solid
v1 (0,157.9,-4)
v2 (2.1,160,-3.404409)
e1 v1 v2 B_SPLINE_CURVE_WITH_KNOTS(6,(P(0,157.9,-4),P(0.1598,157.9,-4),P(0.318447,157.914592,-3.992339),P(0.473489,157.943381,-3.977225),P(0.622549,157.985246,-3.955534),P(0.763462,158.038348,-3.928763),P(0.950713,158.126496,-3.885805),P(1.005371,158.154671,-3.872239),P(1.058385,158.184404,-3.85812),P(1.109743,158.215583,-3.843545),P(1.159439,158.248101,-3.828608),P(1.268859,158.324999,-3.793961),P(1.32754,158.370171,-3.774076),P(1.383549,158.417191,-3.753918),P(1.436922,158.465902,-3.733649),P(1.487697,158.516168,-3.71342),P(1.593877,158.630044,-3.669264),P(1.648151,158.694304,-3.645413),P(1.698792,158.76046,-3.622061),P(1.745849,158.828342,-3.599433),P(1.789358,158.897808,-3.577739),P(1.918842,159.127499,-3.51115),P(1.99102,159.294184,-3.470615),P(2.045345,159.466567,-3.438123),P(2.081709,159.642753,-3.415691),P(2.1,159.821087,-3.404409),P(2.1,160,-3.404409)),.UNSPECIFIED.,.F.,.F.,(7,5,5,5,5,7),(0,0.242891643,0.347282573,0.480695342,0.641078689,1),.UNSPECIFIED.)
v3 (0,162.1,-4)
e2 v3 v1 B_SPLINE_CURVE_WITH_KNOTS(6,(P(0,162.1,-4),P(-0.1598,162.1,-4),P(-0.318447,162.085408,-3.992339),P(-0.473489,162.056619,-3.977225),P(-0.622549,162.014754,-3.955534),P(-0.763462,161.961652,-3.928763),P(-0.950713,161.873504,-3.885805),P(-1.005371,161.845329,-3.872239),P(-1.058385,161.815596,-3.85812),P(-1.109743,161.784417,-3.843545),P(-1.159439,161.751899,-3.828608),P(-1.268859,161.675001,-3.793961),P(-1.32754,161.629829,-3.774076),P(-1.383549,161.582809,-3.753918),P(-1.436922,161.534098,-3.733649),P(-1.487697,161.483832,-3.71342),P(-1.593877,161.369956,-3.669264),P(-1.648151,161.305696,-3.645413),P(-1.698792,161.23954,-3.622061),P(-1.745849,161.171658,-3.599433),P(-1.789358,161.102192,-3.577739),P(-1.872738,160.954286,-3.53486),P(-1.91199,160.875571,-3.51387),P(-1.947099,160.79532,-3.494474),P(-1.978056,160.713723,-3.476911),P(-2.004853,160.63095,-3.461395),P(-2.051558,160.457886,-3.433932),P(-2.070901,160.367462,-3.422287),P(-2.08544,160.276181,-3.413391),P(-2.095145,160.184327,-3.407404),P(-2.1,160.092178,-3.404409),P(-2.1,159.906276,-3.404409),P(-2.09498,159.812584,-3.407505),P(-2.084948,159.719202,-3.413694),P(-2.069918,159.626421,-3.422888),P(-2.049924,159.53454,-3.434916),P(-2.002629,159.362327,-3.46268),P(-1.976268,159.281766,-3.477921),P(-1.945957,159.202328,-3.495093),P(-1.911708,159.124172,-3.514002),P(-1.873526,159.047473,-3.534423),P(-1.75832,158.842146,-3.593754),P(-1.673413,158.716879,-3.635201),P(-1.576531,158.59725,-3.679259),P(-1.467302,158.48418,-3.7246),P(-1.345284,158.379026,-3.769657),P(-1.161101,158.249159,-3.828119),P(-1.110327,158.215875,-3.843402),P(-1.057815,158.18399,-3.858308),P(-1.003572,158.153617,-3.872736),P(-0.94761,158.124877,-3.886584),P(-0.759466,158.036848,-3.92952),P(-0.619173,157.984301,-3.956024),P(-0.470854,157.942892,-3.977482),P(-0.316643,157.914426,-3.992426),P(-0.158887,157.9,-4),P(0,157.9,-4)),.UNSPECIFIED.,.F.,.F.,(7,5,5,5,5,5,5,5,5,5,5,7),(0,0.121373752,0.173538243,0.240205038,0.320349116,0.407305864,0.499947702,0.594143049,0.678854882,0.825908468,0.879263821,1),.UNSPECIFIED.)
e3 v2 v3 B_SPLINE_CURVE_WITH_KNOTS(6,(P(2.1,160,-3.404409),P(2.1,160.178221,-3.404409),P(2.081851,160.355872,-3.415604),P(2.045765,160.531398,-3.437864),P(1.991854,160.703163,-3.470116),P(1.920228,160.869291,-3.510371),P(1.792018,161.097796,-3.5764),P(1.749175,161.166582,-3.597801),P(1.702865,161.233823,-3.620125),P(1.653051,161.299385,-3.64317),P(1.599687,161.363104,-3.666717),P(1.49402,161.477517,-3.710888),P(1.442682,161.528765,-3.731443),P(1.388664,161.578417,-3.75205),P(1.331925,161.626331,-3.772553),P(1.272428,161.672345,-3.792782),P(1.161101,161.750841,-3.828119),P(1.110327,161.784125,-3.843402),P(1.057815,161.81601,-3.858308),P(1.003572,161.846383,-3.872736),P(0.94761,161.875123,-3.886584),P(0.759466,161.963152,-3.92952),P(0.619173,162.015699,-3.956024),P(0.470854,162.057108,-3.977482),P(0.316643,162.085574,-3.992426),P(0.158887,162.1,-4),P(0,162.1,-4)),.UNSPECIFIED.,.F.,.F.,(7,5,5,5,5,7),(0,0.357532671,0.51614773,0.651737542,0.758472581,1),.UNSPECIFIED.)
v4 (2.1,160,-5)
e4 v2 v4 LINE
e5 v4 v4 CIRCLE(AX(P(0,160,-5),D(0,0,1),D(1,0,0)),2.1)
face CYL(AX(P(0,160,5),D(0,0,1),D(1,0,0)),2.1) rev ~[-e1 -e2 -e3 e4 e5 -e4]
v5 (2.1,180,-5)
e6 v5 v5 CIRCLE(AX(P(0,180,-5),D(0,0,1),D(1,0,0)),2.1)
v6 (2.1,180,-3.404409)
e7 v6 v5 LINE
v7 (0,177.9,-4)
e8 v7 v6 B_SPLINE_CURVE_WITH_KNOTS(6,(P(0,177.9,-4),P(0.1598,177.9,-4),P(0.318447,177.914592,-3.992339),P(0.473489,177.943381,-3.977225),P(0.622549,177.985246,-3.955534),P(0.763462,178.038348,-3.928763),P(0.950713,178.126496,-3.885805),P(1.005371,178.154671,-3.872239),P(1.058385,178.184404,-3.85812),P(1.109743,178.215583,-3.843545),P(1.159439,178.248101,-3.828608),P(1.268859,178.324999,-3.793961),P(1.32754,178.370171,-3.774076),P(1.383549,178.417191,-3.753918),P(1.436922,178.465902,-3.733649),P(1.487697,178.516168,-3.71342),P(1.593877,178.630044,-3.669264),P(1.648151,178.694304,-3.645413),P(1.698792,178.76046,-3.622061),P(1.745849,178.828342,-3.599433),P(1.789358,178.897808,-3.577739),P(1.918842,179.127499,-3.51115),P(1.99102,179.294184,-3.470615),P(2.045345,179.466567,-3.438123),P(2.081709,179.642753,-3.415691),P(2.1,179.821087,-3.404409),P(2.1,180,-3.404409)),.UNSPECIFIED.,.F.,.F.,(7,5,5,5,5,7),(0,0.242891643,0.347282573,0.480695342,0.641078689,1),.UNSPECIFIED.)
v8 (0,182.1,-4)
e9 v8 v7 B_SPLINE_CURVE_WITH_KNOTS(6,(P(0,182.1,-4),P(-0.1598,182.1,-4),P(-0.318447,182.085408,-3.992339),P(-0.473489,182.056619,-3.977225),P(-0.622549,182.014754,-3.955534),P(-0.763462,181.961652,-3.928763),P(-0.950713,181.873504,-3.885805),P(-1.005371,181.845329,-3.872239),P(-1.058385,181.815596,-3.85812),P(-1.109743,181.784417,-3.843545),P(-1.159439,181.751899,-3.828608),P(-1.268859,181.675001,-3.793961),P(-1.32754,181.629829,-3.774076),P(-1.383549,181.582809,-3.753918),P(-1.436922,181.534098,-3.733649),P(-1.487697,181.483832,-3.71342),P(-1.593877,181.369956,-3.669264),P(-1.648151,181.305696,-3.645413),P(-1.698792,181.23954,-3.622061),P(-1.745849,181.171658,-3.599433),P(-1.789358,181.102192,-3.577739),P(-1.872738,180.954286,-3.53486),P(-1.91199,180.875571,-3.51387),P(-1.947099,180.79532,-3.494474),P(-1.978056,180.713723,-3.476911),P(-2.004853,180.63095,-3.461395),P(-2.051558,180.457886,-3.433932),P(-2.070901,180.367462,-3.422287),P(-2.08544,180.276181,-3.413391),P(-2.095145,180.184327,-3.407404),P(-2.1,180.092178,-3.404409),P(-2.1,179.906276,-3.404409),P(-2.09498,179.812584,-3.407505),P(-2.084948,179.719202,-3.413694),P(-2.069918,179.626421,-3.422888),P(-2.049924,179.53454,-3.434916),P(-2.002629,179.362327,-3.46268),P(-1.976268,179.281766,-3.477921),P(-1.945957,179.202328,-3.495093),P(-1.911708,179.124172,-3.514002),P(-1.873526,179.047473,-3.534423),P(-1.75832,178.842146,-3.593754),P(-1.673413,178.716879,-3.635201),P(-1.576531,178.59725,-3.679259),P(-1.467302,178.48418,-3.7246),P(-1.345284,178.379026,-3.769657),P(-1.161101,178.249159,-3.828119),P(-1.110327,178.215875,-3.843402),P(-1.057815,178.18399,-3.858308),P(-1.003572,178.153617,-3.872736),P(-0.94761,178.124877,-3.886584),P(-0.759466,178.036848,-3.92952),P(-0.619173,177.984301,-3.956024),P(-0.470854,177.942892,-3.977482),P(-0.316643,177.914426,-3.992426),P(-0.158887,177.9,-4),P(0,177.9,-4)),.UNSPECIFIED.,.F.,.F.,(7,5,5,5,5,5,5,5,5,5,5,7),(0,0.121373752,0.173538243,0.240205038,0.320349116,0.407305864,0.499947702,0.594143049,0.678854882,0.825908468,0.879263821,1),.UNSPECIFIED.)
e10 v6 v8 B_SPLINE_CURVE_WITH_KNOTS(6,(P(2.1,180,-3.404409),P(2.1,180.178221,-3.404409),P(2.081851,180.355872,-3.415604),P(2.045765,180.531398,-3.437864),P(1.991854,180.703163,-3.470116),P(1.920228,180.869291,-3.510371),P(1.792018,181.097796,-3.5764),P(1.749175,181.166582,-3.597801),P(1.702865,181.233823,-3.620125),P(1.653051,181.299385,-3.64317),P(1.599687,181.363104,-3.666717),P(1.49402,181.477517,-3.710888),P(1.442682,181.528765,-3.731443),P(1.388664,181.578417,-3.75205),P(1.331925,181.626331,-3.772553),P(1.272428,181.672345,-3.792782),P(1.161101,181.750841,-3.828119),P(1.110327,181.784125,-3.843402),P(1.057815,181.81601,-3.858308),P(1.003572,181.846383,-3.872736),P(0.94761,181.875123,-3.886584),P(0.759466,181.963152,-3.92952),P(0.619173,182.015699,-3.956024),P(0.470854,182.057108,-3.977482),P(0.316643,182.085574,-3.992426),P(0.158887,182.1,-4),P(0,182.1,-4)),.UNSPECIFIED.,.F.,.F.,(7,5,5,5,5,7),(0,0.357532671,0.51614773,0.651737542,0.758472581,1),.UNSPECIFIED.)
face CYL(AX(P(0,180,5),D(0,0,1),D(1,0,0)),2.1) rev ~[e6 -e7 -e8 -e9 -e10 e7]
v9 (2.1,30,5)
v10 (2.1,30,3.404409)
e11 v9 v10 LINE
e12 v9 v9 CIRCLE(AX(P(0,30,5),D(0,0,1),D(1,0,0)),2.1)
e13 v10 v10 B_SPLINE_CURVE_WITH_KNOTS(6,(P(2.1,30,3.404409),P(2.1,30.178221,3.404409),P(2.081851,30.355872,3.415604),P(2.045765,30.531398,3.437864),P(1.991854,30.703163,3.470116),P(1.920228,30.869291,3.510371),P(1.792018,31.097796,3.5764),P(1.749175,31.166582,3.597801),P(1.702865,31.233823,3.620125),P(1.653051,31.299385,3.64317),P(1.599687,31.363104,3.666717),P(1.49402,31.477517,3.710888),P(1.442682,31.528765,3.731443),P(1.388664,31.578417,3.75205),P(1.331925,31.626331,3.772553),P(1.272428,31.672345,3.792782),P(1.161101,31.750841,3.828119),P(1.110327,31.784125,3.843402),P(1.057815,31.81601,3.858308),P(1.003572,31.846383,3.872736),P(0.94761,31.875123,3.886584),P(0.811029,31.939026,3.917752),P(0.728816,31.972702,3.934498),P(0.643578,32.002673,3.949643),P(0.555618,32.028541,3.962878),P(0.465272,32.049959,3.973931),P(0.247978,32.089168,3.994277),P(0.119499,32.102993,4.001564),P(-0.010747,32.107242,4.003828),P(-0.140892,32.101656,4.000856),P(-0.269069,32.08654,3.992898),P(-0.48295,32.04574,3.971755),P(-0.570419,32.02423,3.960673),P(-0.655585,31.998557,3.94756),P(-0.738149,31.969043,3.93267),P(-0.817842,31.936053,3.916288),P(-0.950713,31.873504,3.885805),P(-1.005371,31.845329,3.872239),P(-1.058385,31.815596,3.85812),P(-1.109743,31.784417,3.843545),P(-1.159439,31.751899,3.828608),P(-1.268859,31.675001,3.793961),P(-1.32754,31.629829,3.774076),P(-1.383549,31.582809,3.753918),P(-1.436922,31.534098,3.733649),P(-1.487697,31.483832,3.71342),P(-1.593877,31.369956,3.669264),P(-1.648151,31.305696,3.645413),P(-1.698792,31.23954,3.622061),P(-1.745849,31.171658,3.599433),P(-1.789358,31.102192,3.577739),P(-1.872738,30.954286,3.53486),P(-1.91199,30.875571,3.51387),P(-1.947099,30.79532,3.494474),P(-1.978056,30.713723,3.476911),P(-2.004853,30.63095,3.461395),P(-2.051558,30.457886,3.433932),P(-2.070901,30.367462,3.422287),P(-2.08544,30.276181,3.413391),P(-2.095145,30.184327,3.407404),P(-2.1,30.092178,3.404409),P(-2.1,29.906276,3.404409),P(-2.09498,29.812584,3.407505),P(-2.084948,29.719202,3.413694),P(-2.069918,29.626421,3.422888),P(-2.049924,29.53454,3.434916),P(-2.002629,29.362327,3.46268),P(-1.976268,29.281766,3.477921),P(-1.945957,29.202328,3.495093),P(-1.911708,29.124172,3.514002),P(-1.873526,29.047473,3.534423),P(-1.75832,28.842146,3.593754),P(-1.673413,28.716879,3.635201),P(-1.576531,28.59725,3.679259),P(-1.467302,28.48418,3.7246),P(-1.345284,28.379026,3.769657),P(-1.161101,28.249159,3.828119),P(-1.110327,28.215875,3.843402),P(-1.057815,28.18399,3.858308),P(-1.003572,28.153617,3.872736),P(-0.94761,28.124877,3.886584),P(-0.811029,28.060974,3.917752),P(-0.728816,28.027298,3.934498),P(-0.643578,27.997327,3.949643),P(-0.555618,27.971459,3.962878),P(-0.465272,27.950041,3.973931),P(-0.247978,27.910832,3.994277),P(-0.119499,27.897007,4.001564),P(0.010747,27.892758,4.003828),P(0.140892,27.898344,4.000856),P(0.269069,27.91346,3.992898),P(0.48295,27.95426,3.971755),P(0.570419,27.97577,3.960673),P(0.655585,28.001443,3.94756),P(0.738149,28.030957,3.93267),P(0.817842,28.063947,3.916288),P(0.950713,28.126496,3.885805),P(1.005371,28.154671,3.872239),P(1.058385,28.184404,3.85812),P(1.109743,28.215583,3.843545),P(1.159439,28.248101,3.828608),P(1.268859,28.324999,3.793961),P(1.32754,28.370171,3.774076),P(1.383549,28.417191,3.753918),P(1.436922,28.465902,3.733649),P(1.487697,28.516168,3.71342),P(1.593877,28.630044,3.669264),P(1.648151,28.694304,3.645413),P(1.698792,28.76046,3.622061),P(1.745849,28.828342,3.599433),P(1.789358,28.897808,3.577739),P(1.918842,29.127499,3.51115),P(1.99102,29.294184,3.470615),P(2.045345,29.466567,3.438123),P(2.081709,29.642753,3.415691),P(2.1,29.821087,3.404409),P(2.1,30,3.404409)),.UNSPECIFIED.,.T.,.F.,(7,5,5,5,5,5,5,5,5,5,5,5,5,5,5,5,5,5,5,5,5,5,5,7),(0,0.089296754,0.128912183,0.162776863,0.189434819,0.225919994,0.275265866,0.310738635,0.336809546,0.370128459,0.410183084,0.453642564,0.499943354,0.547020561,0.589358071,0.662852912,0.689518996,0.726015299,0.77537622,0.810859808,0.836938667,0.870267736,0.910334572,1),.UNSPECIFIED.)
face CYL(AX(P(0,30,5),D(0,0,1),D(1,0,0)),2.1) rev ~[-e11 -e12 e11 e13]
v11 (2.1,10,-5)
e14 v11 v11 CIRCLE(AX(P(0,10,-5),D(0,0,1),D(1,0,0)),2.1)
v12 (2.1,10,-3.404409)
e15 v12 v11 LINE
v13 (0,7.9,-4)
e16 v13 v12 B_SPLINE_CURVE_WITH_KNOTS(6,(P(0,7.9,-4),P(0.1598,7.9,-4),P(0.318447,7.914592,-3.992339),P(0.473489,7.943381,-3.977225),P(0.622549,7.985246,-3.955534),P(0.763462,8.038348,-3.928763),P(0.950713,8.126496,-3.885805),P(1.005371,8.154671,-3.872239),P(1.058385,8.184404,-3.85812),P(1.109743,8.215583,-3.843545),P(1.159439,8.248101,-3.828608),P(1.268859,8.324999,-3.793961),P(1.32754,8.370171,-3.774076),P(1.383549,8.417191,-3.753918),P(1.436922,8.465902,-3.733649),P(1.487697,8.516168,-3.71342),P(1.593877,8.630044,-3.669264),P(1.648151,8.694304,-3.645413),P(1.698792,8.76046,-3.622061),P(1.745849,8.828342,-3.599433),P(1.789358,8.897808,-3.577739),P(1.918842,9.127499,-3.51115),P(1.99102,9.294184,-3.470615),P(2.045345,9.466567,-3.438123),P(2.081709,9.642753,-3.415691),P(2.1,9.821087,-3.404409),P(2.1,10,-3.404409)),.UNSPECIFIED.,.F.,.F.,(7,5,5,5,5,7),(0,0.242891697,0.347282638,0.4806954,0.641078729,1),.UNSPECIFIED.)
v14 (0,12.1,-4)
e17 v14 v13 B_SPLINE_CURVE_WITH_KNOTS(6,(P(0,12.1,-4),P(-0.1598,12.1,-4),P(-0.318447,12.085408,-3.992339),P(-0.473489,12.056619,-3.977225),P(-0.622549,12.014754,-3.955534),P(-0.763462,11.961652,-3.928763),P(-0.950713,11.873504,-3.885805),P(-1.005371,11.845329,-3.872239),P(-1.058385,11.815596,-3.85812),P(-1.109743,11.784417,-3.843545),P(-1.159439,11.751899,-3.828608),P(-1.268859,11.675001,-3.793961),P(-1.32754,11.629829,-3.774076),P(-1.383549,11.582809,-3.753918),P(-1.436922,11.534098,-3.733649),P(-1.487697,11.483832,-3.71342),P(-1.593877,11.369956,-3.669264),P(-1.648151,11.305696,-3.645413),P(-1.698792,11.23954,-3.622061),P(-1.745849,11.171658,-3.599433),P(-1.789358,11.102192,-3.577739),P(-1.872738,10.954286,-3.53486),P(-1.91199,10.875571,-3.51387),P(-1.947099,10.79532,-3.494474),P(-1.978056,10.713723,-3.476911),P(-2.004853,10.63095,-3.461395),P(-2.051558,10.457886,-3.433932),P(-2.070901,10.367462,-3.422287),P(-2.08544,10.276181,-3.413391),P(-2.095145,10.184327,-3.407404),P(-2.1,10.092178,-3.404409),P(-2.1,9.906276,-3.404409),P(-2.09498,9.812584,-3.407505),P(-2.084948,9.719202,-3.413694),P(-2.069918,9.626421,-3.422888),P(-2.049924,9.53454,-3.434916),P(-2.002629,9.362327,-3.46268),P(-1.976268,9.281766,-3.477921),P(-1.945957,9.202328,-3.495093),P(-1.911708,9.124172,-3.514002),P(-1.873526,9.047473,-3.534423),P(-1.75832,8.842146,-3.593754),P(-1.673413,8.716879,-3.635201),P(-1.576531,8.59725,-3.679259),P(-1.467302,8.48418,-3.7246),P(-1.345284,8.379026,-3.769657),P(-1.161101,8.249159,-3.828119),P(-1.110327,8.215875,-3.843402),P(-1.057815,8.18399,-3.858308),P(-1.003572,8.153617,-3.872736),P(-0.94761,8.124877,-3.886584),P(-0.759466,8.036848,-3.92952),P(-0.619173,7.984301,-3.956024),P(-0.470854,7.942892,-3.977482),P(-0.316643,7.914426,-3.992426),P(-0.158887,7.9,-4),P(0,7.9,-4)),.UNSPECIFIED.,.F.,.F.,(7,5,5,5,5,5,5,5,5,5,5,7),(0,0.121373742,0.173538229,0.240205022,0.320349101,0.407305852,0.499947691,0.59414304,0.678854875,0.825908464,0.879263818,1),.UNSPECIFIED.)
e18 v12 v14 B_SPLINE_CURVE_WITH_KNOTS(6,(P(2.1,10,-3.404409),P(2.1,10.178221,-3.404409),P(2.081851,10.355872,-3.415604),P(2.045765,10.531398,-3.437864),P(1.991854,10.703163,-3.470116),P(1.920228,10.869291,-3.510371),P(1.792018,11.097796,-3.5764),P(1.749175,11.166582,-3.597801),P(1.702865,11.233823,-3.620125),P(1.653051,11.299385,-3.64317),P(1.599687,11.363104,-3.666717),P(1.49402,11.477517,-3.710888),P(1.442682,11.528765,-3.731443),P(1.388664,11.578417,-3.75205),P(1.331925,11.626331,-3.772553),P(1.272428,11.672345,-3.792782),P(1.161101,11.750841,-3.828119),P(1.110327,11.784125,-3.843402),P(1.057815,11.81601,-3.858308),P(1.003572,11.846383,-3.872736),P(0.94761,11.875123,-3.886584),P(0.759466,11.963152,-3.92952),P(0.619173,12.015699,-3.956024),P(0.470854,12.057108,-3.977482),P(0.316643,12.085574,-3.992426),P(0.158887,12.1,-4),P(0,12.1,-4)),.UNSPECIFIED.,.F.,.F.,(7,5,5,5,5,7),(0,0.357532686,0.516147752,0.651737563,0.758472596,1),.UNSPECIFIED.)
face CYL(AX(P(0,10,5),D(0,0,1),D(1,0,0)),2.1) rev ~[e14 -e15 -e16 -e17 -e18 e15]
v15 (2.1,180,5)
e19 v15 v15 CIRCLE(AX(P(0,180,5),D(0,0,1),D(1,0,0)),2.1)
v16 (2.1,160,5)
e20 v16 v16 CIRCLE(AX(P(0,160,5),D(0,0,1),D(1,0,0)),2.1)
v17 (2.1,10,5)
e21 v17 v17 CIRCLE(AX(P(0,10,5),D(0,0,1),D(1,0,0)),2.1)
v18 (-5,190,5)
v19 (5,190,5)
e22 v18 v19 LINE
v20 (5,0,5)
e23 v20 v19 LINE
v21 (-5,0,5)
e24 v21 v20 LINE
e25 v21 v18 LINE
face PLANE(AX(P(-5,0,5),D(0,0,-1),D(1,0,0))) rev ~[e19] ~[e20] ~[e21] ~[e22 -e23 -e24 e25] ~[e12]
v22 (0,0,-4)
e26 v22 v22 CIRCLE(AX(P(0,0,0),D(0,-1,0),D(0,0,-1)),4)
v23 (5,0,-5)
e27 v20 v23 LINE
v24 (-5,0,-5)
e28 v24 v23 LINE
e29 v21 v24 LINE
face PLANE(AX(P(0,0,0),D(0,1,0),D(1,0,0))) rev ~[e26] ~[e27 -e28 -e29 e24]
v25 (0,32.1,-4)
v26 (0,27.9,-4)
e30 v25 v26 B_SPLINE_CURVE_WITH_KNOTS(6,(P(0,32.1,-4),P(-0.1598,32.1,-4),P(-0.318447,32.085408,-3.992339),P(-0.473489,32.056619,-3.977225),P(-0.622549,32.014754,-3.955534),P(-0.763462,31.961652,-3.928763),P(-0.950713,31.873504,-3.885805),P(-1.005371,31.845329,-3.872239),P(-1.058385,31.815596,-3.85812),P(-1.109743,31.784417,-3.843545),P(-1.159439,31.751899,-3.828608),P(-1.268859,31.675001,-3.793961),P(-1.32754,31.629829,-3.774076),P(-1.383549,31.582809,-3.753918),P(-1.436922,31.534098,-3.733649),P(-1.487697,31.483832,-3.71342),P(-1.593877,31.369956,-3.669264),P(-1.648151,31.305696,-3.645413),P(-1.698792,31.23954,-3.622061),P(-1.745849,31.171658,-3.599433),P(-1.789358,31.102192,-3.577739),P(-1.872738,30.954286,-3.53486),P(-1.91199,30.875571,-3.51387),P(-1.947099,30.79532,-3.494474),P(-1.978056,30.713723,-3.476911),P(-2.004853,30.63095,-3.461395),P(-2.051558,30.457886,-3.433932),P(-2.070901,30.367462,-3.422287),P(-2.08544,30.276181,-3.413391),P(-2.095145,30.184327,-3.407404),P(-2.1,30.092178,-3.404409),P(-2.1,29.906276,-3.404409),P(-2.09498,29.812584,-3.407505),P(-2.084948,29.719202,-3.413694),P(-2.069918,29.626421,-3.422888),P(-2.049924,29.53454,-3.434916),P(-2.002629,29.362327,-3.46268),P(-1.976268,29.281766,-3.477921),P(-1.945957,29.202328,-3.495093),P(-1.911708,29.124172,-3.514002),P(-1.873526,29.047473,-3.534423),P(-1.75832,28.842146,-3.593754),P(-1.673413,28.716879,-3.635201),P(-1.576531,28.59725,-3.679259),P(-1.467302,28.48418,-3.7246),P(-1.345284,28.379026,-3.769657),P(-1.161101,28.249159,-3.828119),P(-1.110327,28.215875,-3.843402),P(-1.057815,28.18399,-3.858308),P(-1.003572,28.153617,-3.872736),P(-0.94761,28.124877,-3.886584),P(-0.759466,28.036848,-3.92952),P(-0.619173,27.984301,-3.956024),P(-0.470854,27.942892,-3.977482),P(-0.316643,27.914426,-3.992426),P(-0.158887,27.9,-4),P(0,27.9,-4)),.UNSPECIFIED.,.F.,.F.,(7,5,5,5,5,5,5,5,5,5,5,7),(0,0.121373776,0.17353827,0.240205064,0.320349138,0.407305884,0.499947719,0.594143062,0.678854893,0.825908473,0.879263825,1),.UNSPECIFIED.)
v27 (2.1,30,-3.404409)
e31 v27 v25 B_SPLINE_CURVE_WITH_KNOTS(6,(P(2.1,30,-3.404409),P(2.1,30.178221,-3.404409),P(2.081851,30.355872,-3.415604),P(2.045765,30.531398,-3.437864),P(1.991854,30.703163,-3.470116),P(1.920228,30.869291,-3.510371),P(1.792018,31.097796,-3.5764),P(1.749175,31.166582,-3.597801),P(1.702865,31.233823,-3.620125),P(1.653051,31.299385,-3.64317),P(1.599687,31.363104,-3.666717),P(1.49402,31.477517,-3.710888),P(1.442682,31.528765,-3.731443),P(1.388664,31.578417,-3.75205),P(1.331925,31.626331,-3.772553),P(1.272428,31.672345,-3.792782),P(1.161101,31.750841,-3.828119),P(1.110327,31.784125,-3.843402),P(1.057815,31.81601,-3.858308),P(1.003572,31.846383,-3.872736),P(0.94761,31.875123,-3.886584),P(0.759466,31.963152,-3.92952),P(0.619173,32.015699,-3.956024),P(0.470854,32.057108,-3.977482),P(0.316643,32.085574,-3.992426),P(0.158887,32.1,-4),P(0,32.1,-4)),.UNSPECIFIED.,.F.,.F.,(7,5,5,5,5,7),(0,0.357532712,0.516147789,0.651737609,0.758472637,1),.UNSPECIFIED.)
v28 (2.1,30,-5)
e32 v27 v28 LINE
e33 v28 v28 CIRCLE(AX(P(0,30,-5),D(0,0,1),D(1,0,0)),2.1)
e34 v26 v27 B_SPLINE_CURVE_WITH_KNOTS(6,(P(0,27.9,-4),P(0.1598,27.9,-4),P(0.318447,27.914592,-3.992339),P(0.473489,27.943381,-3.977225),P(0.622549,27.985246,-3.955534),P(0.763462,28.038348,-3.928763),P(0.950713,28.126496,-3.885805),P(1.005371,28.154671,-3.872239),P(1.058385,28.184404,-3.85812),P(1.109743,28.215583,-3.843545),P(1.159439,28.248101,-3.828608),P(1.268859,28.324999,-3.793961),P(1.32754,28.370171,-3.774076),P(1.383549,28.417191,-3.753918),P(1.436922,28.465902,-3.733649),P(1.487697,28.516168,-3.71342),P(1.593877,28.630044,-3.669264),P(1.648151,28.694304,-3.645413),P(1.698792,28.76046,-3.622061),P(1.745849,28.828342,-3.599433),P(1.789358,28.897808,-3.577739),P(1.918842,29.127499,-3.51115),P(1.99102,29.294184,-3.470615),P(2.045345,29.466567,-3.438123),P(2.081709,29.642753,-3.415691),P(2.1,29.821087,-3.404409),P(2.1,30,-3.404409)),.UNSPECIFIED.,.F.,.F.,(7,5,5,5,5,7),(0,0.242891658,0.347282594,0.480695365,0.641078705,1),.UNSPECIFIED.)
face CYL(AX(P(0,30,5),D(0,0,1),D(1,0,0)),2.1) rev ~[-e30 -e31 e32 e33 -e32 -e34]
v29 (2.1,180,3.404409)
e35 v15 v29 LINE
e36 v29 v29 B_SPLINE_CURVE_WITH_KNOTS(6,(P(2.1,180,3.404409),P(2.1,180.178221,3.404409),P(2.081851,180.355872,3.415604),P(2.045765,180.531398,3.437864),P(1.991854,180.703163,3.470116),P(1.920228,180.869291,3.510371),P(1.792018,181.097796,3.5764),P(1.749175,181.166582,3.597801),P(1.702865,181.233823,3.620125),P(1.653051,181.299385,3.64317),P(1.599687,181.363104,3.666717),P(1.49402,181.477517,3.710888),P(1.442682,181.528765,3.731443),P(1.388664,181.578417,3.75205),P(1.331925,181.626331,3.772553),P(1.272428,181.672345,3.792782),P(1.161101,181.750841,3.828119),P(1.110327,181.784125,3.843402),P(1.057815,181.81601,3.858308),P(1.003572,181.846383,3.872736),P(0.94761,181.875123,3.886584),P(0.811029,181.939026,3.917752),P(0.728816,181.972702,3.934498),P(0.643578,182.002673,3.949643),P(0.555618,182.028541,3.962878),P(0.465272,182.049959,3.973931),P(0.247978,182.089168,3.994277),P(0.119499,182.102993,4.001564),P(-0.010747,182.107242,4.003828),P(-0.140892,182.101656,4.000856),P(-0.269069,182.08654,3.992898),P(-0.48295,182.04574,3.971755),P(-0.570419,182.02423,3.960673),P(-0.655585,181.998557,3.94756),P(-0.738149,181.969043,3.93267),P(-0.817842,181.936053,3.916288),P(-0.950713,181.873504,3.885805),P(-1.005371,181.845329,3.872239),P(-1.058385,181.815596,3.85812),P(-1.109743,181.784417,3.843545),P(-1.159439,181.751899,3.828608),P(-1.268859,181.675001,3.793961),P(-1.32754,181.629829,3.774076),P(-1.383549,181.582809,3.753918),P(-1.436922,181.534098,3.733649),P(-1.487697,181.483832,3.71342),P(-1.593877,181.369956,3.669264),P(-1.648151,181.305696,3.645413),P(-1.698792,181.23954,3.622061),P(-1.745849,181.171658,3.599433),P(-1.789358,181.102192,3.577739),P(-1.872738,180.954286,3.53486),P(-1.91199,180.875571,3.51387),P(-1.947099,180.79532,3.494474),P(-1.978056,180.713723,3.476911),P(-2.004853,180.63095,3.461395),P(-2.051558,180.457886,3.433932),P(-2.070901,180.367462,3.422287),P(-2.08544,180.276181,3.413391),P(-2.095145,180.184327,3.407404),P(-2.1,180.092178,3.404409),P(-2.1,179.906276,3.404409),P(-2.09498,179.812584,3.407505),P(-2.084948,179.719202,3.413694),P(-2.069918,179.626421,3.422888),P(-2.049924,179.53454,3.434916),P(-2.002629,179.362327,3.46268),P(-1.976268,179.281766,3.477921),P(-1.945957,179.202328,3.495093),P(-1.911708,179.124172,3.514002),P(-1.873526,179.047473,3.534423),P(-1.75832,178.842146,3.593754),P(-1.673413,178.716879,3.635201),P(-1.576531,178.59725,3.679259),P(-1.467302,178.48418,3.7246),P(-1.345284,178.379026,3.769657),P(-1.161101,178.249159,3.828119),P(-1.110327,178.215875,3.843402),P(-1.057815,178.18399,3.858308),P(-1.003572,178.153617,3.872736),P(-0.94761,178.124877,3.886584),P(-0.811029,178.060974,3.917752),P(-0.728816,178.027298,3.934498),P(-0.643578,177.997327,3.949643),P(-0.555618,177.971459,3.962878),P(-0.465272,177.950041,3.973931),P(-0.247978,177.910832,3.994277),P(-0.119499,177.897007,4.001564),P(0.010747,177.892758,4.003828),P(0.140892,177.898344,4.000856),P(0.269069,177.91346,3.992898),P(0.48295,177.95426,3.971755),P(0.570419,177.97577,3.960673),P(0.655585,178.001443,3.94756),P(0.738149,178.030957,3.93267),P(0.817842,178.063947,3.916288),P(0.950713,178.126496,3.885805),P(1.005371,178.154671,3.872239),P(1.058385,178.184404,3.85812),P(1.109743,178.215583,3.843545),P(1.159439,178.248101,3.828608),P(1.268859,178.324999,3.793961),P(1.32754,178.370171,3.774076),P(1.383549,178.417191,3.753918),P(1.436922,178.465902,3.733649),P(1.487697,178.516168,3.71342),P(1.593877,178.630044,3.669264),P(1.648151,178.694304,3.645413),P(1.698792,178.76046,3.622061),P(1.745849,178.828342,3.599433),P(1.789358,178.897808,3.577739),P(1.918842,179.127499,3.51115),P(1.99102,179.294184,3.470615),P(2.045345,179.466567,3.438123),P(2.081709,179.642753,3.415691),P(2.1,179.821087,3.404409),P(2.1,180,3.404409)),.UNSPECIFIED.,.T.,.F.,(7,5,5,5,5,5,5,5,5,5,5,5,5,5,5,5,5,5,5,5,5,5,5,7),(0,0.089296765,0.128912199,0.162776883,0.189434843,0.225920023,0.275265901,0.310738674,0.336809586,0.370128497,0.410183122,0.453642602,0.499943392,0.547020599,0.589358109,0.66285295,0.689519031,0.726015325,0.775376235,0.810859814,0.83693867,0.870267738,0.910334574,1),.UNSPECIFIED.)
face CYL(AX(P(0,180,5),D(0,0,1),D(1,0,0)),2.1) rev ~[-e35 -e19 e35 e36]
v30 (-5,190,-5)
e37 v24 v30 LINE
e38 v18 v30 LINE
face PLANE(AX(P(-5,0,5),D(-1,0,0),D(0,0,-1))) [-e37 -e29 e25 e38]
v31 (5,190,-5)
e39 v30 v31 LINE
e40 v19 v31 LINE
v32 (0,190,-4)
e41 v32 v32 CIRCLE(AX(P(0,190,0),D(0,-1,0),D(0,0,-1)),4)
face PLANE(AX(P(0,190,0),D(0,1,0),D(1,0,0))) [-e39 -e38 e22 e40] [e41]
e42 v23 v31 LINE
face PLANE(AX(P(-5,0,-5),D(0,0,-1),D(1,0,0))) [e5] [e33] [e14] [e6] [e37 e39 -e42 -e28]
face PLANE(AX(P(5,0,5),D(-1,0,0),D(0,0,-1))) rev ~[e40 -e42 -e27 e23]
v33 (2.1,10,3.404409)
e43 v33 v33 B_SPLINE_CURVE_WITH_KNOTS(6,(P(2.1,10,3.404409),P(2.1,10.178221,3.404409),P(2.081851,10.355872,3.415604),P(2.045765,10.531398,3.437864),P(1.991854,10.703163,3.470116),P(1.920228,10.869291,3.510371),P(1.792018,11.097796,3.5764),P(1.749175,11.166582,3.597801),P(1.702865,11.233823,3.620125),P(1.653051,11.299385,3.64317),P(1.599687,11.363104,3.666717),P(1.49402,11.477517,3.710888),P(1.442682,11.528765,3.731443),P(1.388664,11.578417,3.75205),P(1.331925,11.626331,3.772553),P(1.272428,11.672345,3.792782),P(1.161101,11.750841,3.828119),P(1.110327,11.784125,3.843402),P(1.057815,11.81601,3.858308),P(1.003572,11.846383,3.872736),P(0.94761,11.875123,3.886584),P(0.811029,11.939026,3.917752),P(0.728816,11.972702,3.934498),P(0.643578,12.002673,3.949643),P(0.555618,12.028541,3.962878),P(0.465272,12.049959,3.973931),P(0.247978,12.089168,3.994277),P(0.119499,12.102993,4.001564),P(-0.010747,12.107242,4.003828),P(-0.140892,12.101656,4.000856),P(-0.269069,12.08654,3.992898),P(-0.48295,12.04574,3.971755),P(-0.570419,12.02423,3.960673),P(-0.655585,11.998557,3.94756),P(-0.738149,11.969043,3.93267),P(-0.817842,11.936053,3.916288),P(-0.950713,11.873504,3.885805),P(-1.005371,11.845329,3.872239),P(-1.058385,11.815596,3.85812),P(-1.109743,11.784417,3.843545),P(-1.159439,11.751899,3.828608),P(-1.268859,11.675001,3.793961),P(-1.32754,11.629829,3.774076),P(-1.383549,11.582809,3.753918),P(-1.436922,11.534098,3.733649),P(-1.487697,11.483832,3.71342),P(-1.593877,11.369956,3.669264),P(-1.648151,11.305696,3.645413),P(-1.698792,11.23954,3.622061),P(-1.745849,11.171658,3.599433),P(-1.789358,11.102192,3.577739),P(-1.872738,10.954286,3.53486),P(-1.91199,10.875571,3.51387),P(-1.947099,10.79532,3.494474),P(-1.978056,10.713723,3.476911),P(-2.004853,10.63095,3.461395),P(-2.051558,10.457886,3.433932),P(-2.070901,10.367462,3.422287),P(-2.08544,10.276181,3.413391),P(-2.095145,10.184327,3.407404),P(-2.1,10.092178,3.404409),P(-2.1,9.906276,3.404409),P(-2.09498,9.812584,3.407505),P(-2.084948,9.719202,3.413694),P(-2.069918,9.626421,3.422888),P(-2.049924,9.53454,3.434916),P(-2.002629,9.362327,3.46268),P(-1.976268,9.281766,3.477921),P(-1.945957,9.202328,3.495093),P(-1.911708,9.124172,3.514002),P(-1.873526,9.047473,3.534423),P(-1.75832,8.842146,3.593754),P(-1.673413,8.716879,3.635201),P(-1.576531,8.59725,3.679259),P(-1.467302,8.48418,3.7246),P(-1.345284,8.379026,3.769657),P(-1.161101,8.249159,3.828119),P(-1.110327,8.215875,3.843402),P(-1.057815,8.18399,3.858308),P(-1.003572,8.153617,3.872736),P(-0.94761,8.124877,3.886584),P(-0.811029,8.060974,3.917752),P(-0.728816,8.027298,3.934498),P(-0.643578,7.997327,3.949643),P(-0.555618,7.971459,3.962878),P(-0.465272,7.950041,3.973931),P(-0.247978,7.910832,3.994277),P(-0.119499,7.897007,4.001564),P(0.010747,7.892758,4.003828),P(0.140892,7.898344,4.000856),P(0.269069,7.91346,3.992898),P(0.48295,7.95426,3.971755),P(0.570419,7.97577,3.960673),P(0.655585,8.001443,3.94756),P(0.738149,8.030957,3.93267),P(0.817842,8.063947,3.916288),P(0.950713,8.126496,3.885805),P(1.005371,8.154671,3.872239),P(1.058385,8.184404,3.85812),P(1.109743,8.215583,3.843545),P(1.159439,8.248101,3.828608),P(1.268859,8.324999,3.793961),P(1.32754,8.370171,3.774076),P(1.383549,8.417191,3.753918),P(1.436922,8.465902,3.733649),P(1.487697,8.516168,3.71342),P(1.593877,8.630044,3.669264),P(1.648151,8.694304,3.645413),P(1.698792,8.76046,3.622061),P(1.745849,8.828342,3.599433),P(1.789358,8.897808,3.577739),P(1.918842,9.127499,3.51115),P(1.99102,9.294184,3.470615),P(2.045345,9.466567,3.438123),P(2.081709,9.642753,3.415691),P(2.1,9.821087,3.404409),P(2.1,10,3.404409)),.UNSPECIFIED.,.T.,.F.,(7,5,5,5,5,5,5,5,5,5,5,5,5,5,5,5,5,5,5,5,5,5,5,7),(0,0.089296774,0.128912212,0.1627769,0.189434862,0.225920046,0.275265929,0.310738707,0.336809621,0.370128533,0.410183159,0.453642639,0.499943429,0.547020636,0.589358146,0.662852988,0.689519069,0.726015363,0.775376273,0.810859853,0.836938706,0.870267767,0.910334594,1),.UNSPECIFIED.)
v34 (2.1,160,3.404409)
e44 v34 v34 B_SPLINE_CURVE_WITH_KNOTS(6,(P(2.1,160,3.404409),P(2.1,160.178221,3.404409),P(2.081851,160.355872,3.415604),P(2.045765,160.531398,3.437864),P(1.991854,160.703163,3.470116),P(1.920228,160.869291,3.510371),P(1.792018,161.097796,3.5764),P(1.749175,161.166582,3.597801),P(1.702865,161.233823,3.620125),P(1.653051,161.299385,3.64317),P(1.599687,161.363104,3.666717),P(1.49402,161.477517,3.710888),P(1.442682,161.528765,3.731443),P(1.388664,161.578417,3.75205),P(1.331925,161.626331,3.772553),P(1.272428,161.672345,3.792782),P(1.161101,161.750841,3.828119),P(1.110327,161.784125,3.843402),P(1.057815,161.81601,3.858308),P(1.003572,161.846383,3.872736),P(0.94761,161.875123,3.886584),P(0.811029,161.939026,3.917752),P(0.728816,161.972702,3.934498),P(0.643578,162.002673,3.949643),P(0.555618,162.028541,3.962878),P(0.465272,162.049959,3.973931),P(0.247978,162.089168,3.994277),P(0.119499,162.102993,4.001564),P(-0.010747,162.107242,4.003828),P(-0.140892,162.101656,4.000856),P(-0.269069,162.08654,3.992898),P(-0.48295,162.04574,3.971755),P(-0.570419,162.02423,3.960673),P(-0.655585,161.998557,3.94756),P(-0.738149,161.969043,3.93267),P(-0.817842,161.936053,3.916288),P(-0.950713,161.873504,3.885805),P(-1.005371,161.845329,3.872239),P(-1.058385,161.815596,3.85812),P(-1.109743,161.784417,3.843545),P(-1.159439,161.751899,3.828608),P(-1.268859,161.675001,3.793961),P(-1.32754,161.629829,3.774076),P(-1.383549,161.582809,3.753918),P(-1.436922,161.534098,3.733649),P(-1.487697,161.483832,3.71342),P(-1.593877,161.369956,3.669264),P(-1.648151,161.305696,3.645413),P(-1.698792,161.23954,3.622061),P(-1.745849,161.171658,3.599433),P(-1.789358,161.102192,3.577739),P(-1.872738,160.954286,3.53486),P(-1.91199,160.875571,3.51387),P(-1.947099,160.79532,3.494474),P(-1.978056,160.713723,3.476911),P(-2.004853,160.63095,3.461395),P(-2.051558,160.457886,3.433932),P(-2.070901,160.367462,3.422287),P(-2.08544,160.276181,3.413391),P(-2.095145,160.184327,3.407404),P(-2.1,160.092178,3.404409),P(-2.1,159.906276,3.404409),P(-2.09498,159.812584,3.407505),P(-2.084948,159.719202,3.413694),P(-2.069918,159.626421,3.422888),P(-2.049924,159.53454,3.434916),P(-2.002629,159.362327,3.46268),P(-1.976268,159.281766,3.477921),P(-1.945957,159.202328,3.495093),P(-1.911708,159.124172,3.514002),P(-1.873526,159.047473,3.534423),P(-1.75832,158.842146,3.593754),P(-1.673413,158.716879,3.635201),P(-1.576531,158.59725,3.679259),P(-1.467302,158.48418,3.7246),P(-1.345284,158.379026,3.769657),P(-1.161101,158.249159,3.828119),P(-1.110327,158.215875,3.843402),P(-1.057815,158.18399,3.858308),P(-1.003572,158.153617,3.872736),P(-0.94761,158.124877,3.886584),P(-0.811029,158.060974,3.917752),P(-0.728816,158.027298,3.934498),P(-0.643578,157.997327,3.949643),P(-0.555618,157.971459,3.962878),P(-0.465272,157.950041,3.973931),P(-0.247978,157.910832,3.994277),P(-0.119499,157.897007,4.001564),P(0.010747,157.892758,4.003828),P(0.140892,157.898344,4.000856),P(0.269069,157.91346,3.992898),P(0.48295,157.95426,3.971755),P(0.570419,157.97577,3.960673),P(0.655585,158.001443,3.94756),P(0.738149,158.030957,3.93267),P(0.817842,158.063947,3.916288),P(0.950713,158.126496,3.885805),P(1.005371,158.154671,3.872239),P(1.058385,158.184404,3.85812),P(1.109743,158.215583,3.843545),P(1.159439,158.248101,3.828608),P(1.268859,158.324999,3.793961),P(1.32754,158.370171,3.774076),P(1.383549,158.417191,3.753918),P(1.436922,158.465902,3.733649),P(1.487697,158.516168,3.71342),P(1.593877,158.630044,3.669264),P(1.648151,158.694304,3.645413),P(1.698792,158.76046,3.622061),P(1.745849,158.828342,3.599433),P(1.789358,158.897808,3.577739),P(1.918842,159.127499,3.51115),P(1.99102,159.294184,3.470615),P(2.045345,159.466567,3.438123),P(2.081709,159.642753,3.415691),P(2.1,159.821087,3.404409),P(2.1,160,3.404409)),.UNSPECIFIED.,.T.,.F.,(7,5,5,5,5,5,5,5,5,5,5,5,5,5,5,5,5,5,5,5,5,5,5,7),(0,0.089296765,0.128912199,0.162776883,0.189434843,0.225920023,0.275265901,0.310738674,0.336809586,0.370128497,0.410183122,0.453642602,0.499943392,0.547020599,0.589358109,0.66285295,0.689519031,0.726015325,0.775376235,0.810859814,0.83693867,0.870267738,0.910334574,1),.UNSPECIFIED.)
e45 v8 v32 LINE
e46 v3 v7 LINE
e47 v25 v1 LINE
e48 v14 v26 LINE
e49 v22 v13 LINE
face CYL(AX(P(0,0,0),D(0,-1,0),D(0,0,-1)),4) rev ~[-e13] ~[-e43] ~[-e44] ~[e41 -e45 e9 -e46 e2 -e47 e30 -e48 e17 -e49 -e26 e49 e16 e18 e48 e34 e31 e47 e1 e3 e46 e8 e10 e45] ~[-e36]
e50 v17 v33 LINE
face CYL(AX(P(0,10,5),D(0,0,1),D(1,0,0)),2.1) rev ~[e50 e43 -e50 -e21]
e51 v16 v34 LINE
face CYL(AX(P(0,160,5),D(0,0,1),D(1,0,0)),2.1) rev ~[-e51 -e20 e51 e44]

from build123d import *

# Parameters (mm, degrees)
SKETCH_1_W          = 10
SKETCH_1_H          = 10
EXTRUDE_1_DEPTH     = 190
SKETCH_2_R          = 2.1
CUT_EXTRUDE_1_DEPTH = 200
SKETCH_3_R          = 4
CUT_EXTRUDE_2_DEPTH = 191.131533418


with BuildPart() as part:
    # 草图1 → 凸台-拉伸1 (new body)
    with BuildSketch(Plane(origin=(0, 0, 0), x_dir=(1, 0, 0), z_dir=(0, 1, 0))):
        Rectangle(SKETCH_1_W, SKETCH_1_H)
    extrude(amount=EXTRUDE_1_DEPTH)

    # 草图2 → 切除-拉伸1 (cut)
    with BuildSketch(Plane.XY.offset(5)):
        with Locations((0, 10)):
            Circle(SKETCH_2_R)
        with Locations((0, 30)):
            Circle(SKETCH_2_R)
        with Locations((0, 180)):
            Circle(SKETCH_2_R)
        with Locations((0, 160)):
            Circle(SKETCH_2_R)
    extrude(amount=-CUT_EXTRUDE_1_DEPTH, mode=Mode.SUBTRACT)

    # 草图3 → 切除-拉伸2 (cut, through all)
    with BuildSketch(Plane.XZ):
        with Locations(Location((0, 0, 0), (0, 0, 270))):
            Circle(SKETCH_3_R)
    extrude(amount=-CUT_EXTRUDE_2_DEPTH, mode=Mode.SUBTRACT)


solid = part.part
